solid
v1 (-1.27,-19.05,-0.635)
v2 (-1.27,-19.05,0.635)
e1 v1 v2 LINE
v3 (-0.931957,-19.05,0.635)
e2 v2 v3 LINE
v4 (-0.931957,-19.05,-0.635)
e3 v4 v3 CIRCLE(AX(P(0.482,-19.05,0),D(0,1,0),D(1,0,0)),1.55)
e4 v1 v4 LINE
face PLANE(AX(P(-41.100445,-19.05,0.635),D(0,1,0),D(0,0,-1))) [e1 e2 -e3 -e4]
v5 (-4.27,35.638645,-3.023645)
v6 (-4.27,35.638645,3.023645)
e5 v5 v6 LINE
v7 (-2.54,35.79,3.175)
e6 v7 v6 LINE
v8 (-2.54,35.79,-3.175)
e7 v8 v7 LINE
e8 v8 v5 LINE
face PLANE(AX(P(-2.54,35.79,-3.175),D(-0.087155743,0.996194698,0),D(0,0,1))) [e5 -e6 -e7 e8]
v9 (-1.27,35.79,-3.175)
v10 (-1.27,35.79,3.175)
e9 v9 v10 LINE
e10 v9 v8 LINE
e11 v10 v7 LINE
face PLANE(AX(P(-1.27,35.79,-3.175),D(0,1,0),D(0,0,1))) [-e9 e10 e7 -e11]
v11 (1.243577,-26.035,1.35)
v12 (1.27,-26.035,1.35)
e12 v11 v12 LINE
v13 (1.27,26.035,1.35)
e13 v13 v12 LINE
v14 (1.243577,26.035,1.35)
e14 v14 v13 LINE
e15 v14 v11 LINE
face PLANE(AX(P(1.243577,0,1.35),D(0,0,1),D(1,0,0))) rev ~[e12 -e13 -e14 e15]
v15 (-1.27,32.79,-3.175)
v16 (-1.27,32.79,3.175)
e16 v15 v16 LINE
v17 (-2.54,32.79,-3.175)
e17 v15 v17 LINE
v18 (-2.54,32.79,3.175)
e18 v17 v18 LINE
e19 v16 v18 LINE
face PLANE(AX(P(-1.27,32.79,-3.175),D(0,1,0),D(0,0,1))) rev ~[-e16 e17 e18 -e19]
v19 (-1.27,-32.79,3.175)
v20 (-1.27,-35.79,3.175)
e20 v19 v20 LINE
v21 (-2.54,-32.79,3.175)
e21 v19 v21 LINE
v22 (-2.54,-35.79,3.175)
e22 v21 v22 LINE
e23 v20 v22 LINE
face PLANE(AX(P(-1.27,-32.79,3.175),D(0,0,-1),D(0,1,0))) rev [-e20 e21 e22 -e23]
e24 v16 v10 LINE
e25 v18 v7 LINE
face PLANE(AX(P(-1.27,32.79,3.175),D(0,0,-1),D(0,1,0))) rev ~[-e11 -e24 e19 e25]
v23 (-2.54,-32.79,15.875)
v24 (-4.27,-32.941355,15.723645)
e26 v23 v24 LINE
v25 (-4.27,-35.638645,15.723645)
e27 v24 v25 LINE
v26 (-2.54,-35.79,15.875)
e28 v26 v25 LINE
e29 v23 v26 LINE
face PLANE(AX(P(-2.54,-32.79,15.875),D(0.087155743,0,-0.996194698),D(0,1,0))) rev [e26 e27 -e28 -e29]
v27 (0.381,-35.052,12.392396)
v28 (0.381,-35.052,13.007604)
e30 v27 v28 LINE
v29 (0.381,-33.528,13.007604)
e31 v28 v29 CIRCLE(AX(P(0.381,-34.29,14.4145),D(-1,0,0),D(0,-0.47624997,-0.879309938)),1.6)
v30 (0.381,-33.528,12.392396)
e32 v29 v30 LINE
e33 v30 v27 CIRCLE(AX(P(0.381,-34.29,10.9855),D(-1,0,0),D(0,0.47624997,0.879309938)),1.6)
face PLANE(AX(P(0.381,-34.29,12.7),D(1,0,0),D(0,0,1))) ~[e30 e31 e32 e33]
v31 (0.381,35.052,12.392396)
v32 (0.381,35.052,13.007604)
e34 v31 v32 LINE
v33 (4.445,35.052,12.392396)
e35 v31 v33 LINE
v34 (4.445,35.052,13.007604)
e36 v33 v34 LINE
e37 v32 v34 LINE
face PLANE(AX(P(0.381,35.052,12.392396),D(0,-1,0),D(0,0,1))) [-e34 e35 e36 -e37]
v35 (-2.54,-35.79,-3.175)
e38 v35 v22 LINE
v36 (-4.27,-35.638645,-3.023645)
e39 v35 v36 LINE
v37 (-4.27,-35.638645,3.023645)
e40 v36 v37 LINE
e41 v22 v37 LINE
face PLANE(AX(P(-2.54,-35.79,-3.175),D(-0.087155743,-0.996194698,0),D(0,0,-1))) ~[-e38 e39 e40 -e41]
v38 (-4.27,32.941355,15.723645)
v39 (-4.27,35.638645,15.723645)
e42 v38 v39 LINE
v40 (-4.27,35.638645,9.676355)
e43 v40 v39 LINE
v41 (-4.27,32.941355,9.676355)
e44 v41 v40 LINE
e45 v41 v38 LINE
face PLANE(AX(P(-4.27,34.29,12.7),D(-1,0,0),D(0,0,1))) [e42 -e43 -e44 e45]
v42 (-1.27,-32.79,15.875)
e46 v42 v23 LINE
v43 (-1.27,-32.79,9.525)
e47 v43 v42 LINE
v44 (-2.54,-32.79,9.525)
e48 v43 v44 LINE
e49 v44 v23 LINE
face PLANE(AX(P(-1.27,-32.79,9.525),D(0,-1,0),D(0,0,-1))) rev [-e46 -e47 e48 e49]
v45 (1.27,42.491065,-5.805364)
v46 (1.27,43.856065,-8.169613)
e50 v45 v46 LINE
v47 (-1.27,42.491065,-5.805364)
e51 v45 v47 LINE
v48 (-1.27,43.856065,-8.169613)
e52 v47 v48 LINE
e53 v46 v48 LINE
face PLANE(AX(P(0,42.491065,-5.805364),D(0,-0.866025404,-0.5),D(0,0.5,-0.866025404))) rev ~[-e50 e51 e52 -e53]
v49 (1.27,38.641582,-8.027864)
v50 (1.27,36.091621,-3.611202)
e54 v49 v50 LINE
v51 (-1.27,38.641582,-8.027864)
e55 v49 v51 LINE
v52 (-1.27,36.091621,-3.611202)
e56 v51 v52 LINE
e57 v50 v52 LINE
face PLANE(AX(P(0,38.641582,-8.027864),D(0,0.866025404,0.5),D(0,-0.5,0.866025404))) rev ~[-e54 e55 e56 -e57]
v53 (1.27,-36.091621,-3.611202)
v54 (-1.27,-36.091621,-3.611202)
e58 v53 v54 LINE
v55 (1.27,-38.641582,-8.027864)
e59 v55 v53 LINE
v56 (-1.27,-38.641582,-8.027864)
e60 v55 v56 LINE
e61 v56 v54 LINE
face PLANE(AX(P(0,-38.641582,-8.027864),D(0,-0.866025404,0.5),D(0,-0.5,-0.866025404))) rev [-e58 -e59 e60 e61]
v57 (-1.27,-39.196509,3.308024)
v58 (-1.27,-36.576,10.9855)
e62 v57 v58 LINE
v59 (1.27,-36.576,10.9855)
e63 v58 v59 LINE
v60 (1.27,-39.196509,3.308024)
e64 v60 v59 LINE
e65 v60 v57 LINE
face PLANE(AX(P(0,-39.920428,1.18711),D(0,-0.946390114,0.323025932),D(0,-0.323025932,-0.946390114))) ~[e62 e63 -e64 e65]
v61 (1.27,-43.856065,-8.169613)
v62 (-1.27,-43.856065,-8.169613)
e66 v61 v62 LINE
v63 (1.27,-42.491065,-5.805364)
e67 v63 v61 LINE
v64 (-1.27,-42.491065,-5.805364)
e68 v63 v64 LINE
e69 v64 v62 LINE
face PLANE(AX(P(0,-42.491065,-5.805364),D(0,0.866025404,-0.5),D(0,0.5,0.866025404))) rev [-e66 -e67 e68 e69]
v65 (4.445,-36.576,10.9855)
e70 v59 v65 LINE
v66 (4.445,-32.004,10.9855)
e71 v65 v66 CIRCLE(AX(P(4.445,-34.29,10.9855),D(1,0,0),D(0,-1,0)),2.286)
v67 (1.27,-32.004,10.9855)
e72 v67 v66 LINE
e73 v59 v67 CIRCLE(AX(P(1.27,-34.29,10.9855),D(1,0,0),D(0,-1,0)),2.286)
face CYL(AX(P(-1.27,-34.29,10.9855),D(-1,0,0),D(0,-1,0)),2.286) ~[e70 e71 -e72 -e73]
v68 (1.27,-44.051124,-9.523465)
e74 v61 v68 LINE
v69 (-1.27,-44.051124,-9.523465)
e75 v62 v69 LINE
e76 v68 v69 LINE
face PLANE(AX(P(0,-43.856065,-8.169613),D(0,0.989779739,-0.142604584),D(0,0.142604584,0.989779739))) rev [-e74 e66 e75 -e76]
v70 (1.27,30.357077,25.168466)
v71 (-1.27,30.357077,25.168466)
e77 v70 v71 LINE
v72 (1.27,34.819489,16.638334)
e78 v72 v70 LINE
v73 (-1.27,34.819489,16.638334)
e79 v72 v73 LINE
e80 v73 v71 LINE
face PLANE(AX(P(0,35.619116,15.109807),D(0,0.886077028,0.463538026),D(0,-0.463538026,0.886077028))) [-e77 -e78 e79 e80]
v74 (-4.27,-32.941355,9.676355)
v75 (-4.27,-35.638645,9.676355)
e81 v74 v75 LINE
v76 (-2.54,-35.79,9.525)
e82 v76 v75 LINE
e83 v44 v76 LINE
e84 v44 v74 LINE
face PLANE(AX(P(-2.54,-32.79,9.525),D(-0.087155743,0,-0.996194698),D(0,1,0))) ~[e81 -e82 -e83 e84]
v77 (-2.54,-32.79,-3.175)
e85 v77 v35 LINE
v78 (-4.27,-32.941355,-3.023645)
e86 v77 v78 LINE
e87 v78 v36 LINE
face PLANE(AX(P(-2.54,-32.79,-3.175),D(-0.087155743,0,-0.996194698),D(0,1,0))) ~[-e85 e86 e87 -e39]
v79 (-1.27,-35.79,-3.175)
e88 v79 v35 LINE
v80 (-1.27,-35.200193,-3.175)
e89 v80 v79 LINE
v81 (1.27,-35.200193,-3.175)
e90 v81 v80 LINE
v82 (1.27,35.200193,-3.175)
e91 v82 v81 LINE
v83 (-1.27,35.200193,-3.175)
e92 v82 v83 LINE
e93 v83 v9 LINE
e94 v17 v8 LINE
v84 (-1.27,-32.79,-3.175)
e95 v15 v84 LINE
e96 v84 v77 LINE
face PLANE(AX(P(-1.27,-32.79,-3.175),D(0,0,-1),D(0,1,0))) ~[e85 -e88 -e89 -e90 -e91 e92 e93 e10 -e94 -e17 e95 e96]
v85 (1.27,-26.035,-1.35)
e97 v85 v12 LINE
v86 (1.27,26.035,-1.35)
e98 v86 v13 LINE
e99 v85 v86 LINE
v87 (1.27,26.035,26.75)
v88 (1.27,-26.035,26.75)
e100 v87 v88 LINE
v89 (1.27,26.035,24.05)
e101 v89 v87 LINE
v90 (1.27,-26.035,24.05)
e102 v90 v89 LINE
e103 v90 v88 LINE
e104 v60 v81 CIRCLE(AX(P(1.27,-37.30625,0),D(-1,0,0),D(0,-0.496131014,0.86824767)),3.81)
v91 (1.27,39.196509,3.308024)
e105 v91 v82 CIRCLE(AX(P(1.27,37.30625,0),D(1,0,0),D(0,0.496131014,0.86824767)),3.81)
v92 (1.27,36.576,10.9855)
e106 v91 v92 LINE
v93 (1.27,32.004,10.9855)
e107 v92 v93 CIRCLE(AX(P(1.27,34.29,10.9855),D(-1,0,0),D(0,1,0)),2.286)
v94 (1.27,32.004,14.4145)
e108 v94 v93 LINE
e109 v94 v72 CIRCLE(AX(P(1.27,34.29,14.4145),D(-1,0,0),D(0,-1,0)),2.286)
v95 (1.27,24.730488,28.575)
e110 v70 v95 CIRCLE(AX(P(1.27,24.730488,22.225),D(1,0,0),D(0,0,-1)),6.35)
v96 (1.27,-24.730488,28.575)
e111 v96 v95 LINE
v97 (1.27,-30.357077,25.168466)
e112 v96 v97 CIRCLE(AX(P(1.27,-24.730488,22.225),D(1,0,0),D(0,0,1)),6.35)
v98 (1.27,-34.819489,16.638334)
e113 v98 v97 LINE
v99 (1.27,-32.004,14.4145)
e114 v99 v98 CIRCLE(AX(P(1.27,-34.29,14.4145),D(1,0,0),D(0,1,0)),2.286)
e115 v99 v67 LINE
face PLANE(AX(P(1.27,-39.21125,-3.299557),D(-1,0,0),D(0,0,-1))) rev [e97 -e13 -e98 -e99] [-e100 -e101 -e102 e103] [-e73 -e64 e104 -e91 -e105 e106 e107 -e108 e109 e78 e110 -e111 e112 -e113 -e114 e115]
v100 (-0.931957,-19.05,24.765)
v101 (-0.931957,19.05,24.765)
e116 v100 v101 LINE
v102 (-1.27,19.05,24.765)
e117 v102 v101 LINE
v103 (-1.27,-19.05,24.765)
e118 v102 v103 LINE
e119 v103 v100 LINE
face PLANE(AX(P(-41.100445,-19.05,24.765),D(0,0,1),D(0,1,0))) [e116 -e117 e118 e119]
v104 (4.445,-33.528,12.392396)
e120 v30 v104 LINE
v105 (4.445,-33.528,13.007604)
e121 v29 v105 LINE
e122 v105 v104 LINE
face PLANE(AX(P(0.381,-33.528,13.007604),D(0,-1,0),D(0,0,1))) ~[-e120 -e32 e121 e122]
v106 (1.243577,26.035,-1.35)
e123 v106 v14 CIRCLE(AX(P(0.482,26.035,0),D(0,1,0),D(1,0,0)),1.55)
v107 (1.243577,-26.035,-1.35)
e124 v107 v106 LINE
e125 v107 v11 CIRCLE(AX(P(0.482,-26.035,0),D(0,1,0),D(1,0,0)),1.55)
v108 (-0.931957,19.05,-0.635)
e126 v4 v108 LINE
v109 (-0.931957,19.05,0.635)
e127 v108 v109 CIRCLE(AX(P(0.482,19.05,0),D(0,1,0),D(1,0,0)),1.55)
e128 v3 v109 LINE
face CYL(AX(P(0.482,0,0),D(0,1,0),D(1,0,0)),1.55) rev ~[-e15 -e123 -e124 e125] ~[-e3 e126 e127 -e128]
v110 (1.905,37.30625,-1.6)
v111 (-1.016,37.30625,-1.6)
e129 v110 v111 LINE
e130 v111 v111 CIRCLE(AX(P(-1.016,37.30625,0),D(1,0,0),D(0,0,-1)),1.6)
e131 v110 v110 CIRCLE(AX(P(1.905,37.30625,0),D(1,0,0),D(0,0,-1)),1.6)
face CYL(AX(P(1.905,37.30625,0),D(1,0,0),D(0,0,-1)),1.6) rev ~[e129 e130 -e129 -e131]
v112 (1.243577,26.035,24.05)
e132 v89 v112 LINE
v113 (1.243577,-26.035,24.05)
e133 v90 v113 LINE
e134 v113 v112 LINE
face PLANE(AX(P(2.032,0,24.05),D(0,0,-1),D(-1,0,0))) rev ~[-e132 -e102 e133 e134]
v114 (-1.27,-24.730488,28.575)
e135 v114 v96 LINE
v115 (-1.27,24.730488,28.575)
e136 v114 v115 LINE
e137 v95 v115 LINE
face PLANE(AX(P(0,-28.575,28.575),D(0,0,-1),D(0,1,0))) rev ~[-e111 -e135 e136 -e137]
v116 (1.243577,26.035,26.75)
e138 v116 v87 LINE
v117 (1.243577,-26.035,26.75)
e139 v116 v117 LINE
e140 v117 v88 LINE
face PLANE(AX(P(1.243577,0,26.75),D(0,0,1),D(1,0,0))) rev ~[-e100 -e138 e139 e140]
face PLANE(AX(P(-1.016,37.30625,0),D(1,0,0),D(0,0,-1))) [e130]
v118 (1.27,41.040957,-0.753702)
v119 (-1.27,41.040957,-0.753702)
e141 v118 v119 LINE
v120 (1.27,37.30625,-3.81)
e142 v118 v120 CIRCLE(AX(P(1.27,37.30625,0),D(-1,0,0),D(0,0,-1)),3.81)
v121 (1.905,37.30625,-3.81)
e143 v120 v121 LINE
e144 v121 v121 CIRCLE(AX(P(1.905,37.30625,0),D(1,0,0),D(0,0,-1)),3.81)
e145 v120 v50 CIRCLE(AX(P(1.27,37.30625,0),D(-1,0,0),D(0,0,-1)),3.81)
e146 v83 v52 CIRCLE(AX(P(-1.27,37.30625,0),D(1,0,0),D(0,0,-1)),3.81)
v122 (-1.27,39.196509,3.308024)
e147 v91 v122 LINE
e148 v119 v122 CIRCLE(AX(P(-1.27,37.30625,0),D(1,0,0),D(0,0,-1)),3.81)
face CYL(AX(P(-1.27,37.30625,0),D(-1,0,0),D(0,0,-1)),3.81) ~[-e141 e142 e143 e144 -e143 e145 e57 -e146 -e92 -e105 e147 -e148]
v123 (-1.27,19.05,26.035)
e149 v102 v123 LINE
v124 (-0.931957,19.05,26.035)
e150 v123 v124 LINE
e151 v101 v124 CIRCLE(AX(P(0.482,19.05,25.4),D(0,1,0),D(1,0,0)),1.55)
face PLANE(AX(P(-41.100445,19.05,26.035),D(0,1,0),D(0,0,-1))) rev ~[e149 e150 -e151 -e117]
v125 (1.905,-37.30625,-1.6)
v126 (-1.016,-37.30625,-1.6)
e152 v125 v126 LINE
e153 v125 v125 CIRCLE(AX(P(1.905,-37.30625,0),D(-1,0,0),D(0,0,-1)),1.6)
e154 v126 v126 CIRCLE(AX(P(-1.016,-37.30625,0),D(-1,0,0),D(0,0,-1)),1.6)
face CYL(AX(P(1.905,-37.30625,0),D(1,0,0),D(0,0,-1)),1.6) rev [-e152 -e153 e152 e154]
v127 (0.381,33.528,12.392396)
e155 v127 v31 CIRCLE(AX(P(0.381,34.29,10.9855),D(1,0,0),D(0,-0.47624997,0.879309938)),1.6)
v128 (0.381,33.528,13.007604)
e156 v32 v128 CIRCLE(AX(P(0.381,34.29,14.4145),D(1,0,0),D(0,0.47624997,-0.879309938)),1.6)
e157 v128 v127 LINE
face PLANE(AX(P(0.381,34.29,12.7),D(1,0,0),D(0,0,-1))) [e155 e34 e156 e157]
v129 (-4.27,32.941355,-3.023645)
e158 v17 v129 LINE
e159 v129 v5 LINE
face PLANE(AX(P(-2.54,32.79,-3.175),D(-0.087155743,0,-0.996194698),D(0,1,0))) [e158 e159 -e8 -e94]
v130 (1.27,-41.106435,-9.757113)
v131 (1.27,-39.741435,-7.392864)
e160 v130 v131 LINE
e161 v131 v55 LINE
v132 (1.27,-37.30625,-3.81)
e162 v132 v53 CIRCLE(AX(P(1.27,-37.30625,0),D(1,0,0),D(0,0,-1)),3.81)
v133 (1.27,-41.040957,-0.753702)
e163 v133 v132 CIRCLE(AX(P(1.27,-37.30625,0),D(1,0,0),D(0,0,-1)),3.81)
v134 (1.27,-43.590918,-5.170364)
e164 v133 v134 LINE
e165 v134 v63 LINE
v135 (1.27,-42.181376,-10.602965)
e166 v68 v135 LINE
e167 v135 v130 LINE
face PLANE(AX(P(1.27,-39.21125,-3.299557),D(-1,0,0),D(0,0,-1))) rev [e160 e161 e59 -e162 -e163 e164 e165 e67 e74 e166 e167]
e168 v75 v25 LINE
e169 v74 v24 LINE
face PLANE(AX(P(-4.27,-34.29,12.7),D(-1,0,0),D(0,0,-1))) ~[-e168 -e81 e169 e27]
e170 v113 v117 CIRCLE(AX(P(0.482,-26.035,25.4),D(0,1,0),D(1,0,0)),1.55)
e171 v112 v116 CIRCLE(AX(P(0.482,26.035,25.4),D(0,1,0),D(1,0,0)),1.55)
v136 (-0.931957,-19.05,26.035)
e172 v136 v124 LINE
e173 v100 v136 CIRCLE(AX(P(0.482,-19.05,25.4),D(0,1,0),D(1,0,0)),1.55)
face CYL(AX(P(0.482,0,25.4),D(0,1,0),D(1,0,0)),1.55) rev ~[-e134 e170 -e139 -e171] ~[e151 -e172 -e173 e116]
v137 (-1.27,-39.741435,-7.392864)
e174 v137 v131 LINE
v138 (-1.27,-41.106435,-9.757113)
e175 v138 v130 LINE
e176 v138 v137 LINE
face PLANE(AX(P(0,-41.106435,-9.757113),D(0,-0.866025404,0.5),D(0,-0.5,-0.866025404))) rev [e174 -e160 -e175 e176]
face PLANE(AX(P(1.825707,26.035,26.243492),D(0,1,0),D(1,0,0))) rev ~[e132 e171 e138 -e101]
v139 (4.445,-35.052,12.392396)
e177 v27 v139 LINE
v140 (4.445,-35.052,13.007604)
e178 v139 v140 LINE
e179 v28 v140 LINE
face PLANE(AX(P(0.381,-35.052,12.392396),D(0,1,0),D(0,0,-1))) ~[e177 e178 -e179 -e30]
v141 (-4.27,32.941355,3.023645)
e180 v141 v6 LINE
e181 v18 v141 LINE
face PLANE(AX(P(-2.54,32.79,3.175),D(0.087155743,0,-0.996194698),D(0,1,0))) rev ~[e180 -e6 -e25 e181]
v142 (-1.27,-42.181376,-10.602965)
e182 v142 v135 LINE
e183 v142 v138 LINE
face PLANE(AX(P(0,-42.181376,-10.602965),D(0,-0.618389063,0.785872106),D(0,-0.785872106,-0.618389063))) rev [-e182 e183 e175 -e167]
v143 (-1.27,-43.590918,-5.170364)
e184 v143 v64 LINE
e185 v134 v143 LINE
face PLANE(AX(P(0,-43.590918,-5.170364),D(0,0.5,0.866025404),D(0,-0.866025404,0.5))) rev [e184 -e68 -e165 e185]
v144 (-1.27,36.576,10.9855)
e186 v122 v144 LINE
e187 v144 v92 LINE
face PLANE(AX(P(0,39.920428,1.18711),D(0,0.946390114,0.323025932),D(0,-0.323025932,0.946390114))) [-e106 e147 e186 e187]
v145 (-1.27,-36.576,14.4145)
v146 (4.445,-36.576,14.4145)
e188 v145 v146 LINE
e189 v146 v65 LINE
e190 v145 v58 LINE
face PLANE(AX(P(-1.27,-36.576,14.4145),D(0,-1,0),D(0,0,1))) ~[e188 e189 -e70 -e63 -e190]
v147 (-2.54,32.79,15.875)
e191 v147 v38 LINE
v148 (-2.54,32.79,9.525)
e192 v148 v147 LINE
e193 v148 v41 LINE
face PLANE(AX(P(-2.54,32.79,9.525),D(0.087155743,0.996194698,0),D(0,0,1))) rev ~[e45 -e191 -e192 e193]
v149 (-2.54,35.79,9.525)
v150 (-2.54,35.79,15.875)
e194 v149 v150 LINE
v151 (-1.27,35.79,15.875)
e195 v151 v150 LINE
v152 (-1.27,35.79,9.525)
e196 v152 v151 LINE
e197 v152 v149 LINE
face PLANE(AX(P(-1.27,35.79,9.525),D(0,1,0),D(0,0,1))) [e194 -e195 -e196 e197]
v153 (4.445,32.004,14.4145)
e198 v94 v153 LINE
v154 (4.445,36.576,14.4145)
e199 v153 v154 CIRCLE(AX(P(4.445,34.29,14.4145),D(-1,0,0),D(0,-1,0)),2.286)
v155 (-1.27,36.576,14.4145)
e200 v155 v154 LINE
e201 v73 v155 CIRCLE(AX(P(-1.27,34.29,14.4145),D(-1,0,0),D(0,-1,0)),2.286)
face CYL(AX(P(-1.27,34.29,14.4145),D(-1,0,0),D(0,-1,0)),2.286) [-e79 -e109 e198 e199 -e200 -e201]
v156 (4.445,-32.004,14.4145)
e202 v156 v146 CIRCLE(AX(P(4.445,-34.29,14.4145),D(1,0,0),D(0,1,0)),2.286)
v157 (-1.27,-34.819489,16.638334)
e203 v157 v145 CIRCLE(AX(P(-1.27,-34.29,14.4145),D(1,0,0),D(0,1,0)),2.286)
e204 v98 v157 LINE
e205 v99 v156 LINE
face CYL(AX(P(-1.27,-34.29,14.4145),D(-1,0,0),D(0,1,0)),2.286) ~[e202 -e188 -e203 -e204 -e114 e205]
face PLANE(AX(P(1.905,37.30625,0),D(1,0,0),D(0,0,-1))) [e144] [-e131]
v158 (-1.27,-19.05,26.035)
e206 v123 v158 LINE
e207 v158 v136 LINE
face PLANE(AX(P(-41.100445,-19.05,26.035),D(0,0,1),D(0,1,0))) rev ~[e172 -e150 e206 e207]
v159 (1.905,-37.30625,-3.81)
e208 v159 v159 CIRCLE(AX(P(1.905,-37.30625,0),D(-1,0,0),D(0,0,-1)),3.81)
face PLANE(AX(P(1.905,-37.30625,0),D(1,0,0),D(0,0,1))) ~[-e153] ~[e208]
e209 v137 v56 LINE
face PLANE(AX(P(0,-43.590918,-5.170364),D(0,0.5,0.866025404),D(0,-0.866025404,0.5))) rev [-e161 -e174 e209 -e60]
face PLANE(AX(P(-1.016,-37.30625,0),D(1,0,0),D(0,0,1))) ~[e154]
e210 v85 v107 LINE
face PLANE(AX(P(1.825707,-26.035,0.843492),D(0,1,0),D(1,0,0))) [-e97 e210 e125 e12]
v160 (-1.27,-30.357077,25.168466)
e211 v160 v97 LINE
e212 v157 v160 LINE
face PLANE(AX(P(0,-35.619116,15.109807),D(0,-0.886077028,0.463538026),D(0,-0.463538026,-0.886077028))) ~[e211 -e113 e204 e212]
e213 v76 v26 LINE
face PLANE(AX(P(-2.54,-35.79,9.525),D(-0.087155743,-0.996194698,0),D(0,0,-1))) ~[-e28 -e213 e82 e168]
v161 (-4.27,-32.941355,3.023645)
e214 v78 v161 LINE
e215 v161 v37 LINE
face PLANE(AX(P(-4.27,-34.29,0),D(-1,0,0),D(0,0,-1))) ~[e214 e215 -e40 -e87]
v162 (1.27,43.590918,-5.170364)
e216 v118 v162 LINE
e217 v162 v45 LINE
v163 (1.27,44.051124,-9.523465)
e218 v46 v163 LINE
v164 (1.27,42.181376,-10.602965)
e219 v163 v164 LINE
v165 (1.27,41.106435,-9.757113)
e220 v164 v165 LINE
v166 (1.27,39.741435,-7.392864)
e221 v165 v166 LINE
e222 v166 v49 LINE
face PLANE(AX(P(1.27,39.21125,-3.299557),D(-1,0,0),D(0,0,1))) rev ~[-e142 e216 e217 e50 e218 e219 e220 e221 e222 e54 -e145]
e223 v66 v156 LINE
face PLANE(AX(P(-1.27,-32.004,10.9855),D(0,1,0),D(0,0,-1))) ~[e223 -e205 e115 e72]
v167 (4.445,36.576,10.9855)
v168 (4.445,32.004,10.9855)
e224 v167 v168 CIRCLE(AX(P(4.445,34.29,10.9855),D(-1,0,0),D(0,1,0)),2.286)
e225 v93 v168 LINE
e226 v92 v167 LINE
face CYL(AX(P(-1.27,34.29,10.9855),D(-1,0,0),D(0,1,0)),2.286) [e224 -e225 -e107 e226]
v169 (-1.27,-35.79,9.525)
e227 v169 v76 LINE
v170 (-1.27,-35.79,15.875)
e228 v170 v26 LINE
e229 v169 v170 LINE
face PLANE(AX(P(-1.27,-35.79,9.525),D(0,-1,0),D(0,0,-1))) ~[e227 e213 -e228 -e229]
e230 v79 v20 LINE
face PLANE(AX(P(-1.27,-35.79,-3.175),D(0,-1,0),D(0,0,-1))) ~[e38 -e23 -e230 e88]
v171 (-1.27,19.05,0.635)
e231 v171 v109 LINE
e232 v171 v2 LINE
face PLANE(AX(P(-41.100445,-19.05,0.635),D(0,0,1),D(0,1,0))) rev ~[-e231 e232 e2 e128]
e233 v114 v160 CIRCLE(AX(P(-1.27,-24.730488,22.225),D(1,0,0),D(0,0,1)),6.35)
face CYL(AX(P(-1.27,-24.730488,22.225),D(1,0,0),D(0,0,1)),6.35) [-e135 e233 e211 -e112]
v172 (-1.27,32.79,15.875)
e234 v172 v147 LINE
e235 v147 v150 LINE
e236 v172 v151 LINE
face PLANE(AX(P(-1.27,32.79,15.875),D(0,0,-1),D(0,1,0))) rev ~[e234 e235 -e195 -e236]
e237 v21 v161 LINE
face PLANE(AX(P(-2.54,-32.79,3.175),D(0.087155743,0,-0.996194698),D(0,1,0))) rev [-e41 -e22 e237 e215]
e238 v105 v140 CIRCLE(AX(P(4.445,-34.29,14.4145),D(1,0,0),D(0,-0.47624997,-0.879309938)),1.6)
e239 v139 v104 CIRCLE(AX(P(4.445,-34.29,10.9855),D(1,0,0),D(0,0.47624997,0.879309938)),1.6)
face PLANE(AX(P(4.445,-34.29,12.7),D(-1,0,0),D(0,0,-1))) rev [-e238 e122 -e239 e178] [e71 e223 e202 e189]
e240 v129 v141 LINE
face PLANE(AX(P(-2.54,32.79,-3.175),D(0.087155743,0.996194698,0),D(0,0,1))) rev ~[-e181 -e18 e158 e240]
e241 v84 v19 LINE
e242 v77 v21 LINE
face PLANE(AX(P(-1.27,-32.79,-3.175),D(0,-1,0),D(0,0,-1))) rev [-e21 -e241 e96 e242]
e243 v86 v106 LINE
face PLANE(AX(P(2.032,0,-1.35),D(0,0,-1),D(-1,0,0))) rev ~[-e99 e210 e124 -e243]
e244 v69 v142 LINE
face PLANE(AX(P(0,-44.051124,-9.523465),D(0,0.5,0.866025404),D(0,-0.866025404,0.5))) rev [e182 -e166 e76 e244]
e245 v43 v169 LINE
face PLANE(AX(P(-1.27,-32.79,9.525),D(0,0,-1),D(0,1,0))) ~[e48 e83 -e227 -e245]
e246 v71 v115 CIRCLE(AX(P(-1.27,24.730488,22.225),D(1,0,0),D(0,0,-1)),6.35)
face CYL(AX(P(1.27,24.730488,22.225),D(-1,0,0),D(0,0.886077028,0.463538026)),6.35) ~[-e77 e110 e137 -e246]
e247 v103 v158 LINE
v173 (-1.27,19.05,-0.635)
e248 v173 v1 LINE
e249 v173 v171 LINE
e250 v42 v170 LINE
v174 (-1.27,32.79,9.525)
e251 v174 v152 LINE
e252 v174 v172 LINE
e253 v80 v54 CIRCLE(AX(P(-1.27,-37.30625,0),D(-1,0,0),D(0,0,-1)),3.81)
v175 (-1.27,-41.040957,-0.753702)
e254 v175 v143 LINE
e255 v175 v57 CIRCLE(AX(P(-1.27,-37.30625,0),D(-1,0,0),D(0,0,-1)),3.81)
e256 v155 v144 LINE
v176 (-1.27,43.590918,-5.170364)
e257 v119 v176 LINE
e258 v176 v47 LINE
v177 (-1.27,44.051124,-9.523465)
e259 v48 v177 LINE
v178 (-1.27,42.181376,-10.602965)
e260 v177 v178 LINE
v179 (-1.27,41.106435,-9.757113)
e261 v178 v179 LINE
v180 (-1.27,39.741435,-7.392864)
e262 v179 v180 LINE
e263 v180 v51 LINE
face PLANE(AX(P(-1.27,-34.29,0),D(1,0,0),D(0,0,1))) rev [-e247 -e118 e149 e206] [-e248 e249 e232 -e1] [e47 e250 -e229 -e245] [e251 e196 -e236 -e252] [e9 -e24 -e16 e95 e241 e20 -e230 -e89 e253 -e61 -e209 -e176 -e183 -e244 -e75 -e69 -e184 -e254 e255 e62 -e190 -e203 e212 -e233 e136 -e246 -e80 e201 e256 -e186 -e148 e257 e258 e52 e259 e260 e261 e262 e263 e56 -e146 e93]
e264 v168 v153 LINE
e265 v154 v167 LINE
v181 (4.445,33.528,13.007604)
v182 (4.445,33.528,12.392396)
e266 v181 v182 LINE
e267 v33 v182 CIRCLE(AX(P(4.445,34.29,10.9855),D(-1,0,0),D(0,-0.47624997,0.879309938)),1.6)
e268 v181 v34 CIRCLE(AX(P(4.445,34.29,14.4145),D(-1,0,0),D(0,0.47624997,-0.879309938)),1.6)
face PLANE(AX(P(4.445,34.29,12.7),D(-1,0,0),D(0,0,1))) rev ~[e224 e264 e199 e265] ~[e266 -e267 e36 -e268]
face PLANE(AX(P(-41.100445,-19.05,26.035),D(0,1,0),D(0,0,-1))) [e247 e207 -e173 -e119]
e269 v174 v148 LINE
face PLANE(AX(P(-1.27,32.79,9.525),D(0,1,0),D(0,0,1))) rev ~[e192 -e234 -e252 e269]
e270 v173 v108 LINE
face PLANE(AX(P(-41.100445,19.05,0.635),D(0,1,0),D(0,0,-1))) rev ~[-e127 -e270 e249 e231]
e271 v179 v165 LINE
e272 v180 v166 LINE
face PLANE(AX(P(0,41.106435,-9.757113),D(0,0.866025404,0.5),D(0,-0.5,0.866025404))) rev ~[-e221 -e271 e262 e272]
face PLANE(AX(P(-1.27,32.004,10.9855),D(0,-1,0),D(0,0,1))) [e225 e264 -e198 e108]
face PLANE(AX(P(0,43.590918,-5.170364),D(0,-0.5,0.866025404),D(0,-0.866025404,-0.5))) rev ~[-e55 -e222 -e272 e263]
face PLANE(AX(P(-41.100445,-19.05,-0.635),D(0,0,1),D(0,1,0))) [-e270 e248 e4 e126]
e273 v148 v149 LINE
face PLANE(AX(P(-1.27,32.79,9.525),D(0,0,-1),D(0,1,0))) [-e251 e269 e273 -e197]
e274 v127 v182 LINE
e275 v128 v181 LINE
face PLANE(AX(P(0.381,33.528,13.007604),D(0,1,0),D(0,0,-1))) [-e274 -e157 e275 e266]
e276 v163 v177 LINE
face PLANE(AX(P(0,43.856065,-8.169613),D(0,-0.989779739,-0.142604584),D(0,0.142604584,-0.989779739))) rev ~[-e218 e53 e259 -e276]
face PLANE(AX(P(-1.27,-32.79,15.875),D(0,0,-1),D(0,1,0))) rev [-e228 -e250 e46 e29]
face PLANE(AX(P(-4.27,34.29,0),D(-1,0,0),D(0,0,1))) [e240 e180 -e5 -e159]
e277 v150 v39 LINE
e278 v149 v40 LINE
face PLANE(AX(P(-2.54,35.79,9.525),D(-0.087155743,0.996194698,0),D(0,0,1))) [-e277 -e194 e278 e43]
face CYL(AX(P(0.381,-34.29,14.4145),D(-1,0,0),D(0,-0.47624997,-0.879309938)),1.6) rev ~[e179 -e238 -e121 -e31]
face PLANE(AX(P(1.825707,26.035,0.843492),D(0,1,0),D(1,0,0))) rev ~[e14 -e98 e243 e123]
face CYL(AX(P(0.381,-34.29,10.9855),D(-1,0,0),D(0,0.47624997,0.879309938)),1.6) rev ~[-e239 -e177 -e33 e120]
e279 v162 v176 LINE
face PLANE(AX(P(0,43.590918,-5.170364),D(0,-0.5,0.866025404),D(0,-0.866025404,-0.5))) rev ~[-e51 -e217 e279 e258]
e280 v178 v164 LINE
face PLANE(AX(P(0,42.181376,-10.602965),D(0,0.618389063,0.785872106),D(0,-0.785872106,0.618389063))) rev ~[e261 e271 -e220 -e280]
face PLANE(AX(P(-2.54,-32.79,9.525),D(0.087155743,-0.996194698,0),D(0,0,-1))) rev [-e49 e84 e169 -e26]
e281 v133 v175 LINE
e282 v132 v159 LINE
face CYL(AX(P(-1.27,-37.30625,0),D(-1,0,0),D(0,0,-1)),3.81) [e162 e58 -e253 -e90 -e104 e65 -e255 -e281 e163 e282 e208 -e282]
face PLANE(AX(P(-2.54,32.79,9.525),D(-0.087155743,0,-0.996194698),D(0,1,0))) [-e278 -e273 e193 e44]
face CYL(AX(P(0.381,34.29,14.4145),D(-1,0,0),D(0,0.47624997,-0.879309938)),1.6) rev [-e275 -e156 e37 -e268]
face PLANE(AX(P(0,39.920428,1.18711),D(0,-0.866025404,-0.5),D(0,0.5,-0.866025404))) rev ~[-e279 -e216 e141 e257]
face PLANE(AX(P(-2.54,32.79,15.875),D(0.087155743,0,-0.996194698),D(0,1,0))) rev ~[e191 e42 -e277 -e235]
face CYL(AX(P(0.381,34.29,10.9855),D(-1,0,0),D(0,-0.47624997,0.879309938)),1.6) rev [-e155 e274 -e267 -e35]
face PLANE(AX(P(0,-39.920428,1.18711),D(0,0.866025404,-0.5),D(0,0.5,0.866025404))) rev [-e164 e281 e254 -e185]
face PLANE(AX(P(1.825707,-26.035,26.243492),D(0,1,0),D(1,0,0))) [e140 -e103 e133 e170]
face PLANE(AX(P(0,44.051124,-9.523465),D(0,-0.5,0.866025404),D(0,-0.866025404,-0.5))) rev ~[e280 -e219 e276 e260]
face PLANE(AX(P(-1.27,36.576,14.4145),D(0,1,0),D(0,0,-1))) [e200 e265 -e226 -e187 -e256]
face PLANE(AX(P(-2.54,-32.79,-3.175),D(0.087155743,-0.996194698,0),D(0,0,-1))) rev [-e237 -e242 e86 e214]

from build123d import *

# Parameters (mm, degrees)
DOWELSUPPORT_DEPTH          = 1.905
DOWELSUPPORT_DEPTH_BACK     = 1.27
SKETCH3_R                   = 3.81
SKETCH5_W                   = 6.35
SKETCH5_H                   = 57.15
SLIDERDOWELSUPPORT_DEPTH    = 1.27
SKETCH17_R                  = 1.549999948
SLIDERDOWELCUTOUT_DEPTH     = 26.035
CUT_EXTRUDE2_DEPTH          = 42.370444934
CUT_EXTRUDE2_DEPTH_BACK     = 42.370444934
SKETCH18_W                  = 1.27
SKETCH18_H                  = 38.1
LPATTERN1_COUNT             = 2
LPATTERN1_PITCH             = 25.4
LATERALSUPPORT_DEPTH        = 1.27
SKETCH8_W                   = 6.35
SKETCH8_H                   = 3
TABSUPPORT_DEPTH            = 1.27
STRINGDOWELSUPPORT_START    = -1.27
STRINGDOWELSUPPORT_DEPTH    = 5.715
INTERSUPPORT_DEPTH          = 1.27
SKETCH10_W                  = 6.35
SKETCH10_H                  = 3
TABBASE_DEPTH               = 1.27
SKETCH12_W                  = 6.35
SKETCH12_H                  = 3
TABDRAFT_DEPTH              = 1.73
TABDRAFT_DRAFT              = 5
TABDRAFT_PROFILE_2_DEPTH    = 1.73
TABDRAFT_PROFILE_2_DRAFT    = 5
STRINGDOWELHOLES_DEPTH      = 53.869299342
STRINGDOWELHOLES_DEPTH_BACK = 1.524
SKETCH14_R                  = 1.600000102
PULLEYDOWELHOLE_DEPTH       = 2.921
FILLET1_R                   = 6.35


with BuildPart() as part:
    # Sketch3 → DowelSupport (new, two sides: drawn at the far end of the back side and taken through both)
    with BuildSketch(Plane(origin=(0, 0, 0), x_dir=(0, 0, -1), z_dir=(1, 0, 0)).offset(-DOWELSUPPORT_DEPTH_BACK)):
        with Locations((0, 37.30625)):
            Circle(SKETCH3_R)
    extrude(amount=DOWELSUPPORT_DEPTH + DOWELSUPPORT_DEPTH_BACK)

    # Sketch8 → TabSupport (add, symmetric)
    with BuildSketch(Plane(origin=(0, 0, 0), x_dir=(0, 0, -1), z_dir=(1, 0, 0))):
        with Locations((0, 34.29)):
            Rectangle(SKETCH8_W, SKETCH8_H)
        with Locations((-12.7, 34.29)):
            Rectangle(SKETCH8_W, SKETCH8_H)
    extrude(amount=TABSUPPORT_DEPTH, both=True)


with BuildPart() as body_2:
    # Sketch5 → SliderDowelSupport (new, symmetric)
    with BuildSketch(Plane(origin=(0, 0, 0), x_dir=(0, 0, -1), z_dir=(1, 0, 0))):
        Rectangle(SKETCH5_W, SKETCH5_H)
    extrude(amount=SLIDERDOWELSUPPORT_DEPTH, both=True)

    # Sketch17 → SliderDowelCutout (cut, symmetric)
    with BuildSketch(Plane(origin=(0, 0, 0), x_dir=(1, 0, 0), z_dir=(0, 1, 0))):
        with BuildLine():
            Line((2.032000054, -1.350000094), (2.032000054, 0))
            ThreePointArc((2.032000054, 0), (1.82045896, -0.78168263), (1.243577144, -1.350000094))
            Line((1.243577144, -1.350000094), (2.032000054, -1.350000094))
        make_face()
        with BuildLine():
            Line((2.032000054, 0), (2.032000054, 1.350000094))
            Line((2.032000054, 1.350000094), (1.243577144, 1.350000094))
            ThreePointArc((1.243577144, 1.350000094), (1.82045896, 0.78168263), (2.032000054, 0))
        make_face()
        with Locations((0.482000106, 0)):
            Circle(SKETCH17_R)
    extrude(amount=SLIDERDOWELCUTOUT_DEPTH, both=True, mode=Mode.SUBTRACT)

    # Sketch18 → Cut-Extrude2 (cut, two sides: drawn at the far end of the back side and taken through both)
    with BuildSketch(Plane(origin=(1.27, 0, 0), x_dir=(0, 0, -1), z_dir=(1, 0, 0)).offset(-CUT_EXTRUDE2_DEPTH_BACK)):
        Rectangle(SKETCH18_W, SKETCH18_H)
    extrude(amount=CUT_EXTRUDE2_DEPTH + CUT_EXTRUDE2_DEPTH_BACK, mode=Mode.SUBTRACT)


with BuildPart() as lpattern1_1:
    # LPattern1: pattern copy
    add(body_2.part.moved(Location(Vector(0, 0, 1) * (1 * LPATTERN1_PITCH))))


with BuildPart() as body_4:
    # Sketch6 → LateralSupport (new, symmetric)
    with BuildSketch(Plane(origin=(0, 0, 0), x_dir=(0, 0, -1), z_dir=(1, 0, 0))):
        Polygon((7.392863577, 39.741434671), (5.805363577, 42.491065329), (8.169612929, 43.856065329), (9.523465192, 44.051124423), (10.602965192, 42.181375577), (9.757112929, 41.106434671), align=None)
    extrude(amount=LATERALSUPPORT_DEPTH, both=True)


with BuildPart() as tabsupport_piece_1:
    # of the separate pieces the step leaves, piece 1, a body of its own (tabsupport_pieces)
    add(part.part.solids().sort_by_distance((0, 37.30625, -3.81))[0])


with BuildPart() as tabsupport_piece_2:
    # of the separate pieces the step leaves, piece 2, a body of its own (tabsupport_pieces)
    add(part.part.solids().sort_by_distance((-1.27, 32.79, 9.525))[0])

    # Sketch15 → StringDowelSupport (add)
    with BuildSketch(Plane(origin=(0, 0, 0), x_dir=(0, 0, -1), z_dir=(1, 0, 0)).offset(STRINGDOWELSUPPORT_START)):
        with BuildLine():
            Line((-14.4145, 36.576), (-10.9855, 36.576))
            ThreePointArc((-10.9855, 36.576), (-8.6995, 34.29), (-10.9855, 32.004))
            Line((-10.9855, 32.004), (-14.4145, 32.004))
            ThreePointArc((-14.4145, 32.004), (-16.7005, 34.29), (-14.4145, 36.576))
        make_face()
    extrude(amount=STRINGDOWELSUPPORT_DEPTH)


with BuildPart() as body_2_1:
    add(body_2.part)

    add(lpattern1_1.part)  # InterSupport merges LPattern1_1

    add(body_4.part)  # InterSupport merges body 4

    add(tabsupport_piece_1.part)  # InterSupport merges TabSupport piece 1

    add(tabsupport_piece_2.part)  # InterSupport merges TabSupport piece 2
    # Sketch7 → InterSupport (add, symmetric)
    with BuildSketch(Plane(origin=(0, 0, 0), x_dir=(0, 0, -1), z_dir=(1, 0, 0))):
        Polygon((5.170363577, 43.590917591), (8.027863577, 38.641582409), (1.42875, 34.831582409), (-1.42875, 39.780917591), align=None)
        Polygon((-3.175, 22.225), (-3.175, 28.575), (3.175, 28.575), (3.175, 32.79), (0.923046602, 34.601940251), (-0.923046602, 40.010559749), (-10.9855, 36.576), (-14.4145, 36.576), (-15.109807039, 35.619115541), (-28.575, 28.575), (-22.225, 28.575), (-22.225, 0), (-3.175, 0), align=None)
    extrude(amount=INTERSUPPORT_DEPTH, both=True)

    # Sketch10 → TabBase (add)
    with BuildSketch(Plane.ZY.offset(1.27)):
        with Locations((0, 34.29)):
            Rectangle(SKETCH10_W, SKETCH10_H)
        with Locations((12.7, 34.29)):
            Rectangle(SKETCH10_W, SKETCH10_H)
    extrude(amount=TABBASE_DEPTH)


with BuildPart() as tabdraft_tool:
    # Sketch12 → TabDraft (with draft: the straight prism first)
    with BuildSketch(Plane.ZY.offset(2.54)):
        with Locations((0, 34.29)):
            Rectangle(SKETCH12_W, SKETCH12_H)
    extrude(amount=TABDRAFT_DEPTH)
    # TabDraft: the draft: its side faces are tilted about the plane it starts from
    tabdraft_sides = [tabdraft_tool.faces().sort_by_distance(p)[0] for p in [
        (-3.405, 34.29, 3.175),
        (-3.405, 35.79, 0),
        (-3.405, 34.29, -3.175),
        (-3.405, 32.79, 0),
    ]]
    draft(tabdraft_sides, Plane.ZY.offset(2.54), TABDRAFT_DRAFT)


with BuildPart() as body_2_2:
    add(body_2_1.part)

    # TabDraft: add tabdraft_tool
    add(tabdraft_tool.part)


with BuildPart() as tabdraft_profile_2_tool:
    # Sketch12 → TabDraft profile 2 (with draft: the straight prism first)
    with BuildSketch(Plane.ZY.offset(2.54)):
        with Locations((12.7, 34.29)):
            Rectangle(SKETCH12_W, SKETCH12_H)
    extrude(amount=TABDRAFT_PROFILE_2_DEPTH)
    # TabDraft profile 2: the draft: its side faces are tilted about the plane it starts from
    tabdraft_profile_2_sides = [tabdraft_profile_2_tool.faces().sort_by_distance(p)[0] for p in [
        (-3.405, 34.29, 9.525),
        (-3.405, 32.79, 12.7),
        (-3.405, 34.29, 15.875),
        (-3.405, 35.79, 12.7),
    ]]
    draft(tabdraft_profile_2_sides, Plane.ZY.offset(2.54), TABDRAFT_PROFILE_2_DRAFT)


with BuildPart() as body_2_3:
    add(body_2_2.part)

    # TabDraft profile 2: add tabdraft_profile_2_tool
    add(tabdraft_profile_2_tool.part)

    # Sketch16 → StringDowelHoles (cut, two sides: drawn at the far end of the back side and taken through both)
    with BuildSketch(Plane(origin=(1.905, 0, 0), x_dir=(0, 0, -1), z_dir=(1, 0, 0)).offset(-STRINGDOWELHOLES_DEPTH_BACK)):
        with BuildLine():
            Line((-13.00760401, 33.528), (-12.39239599, 33.528))
            ThreePointArc((-12.39239599, 33.528), (-9.385499898, 34.29), (-12.39239599, 35.052))
            Line((-12.39239599, 35.052), (-13.00760401, 35.052))
            ThreePointArc((-13.00760401, 35.052), (-16.014500102, 34.29), (-13.00760401, 33.528))
        make_face()
    extrude(amount=STRINGDOWELHOLES_DEPTH + STRINGDOWELHOLES_DEPTH_BACK, mode=Mode.SUBTRACT)

    # Sketch14 → PulleyDowelHole (cut)
    with BuildSketch(Plane(origin=(1.905, 0, 0), x_dir=(0, 0, -1), z_dir=(1, 0, 0))):
        with Locations((0, 37.30625)):
            Circle(SKETCH14_R)
    extrude(amount=-PULLEYDOWELHOLE_DEPTH, mode=Mode.SUBTRACT)

    # Mirror1: body 2 across plane


with BuildPart() as body_2_4:
    add(body_2_3.part)
    add(body_2_3.part.mirror(Plane.ZX))

    # Fillet1
    fillet1_edges = [body_2_4.edges().sort_by_distance(p)[0] for p in [
        (0, -28.575, 28.575),
        (0, 28.575, 28.575),
    ]]
    fillet(fillet1_edges, radius=FILLET1_R)


solid = body_2_4.part
